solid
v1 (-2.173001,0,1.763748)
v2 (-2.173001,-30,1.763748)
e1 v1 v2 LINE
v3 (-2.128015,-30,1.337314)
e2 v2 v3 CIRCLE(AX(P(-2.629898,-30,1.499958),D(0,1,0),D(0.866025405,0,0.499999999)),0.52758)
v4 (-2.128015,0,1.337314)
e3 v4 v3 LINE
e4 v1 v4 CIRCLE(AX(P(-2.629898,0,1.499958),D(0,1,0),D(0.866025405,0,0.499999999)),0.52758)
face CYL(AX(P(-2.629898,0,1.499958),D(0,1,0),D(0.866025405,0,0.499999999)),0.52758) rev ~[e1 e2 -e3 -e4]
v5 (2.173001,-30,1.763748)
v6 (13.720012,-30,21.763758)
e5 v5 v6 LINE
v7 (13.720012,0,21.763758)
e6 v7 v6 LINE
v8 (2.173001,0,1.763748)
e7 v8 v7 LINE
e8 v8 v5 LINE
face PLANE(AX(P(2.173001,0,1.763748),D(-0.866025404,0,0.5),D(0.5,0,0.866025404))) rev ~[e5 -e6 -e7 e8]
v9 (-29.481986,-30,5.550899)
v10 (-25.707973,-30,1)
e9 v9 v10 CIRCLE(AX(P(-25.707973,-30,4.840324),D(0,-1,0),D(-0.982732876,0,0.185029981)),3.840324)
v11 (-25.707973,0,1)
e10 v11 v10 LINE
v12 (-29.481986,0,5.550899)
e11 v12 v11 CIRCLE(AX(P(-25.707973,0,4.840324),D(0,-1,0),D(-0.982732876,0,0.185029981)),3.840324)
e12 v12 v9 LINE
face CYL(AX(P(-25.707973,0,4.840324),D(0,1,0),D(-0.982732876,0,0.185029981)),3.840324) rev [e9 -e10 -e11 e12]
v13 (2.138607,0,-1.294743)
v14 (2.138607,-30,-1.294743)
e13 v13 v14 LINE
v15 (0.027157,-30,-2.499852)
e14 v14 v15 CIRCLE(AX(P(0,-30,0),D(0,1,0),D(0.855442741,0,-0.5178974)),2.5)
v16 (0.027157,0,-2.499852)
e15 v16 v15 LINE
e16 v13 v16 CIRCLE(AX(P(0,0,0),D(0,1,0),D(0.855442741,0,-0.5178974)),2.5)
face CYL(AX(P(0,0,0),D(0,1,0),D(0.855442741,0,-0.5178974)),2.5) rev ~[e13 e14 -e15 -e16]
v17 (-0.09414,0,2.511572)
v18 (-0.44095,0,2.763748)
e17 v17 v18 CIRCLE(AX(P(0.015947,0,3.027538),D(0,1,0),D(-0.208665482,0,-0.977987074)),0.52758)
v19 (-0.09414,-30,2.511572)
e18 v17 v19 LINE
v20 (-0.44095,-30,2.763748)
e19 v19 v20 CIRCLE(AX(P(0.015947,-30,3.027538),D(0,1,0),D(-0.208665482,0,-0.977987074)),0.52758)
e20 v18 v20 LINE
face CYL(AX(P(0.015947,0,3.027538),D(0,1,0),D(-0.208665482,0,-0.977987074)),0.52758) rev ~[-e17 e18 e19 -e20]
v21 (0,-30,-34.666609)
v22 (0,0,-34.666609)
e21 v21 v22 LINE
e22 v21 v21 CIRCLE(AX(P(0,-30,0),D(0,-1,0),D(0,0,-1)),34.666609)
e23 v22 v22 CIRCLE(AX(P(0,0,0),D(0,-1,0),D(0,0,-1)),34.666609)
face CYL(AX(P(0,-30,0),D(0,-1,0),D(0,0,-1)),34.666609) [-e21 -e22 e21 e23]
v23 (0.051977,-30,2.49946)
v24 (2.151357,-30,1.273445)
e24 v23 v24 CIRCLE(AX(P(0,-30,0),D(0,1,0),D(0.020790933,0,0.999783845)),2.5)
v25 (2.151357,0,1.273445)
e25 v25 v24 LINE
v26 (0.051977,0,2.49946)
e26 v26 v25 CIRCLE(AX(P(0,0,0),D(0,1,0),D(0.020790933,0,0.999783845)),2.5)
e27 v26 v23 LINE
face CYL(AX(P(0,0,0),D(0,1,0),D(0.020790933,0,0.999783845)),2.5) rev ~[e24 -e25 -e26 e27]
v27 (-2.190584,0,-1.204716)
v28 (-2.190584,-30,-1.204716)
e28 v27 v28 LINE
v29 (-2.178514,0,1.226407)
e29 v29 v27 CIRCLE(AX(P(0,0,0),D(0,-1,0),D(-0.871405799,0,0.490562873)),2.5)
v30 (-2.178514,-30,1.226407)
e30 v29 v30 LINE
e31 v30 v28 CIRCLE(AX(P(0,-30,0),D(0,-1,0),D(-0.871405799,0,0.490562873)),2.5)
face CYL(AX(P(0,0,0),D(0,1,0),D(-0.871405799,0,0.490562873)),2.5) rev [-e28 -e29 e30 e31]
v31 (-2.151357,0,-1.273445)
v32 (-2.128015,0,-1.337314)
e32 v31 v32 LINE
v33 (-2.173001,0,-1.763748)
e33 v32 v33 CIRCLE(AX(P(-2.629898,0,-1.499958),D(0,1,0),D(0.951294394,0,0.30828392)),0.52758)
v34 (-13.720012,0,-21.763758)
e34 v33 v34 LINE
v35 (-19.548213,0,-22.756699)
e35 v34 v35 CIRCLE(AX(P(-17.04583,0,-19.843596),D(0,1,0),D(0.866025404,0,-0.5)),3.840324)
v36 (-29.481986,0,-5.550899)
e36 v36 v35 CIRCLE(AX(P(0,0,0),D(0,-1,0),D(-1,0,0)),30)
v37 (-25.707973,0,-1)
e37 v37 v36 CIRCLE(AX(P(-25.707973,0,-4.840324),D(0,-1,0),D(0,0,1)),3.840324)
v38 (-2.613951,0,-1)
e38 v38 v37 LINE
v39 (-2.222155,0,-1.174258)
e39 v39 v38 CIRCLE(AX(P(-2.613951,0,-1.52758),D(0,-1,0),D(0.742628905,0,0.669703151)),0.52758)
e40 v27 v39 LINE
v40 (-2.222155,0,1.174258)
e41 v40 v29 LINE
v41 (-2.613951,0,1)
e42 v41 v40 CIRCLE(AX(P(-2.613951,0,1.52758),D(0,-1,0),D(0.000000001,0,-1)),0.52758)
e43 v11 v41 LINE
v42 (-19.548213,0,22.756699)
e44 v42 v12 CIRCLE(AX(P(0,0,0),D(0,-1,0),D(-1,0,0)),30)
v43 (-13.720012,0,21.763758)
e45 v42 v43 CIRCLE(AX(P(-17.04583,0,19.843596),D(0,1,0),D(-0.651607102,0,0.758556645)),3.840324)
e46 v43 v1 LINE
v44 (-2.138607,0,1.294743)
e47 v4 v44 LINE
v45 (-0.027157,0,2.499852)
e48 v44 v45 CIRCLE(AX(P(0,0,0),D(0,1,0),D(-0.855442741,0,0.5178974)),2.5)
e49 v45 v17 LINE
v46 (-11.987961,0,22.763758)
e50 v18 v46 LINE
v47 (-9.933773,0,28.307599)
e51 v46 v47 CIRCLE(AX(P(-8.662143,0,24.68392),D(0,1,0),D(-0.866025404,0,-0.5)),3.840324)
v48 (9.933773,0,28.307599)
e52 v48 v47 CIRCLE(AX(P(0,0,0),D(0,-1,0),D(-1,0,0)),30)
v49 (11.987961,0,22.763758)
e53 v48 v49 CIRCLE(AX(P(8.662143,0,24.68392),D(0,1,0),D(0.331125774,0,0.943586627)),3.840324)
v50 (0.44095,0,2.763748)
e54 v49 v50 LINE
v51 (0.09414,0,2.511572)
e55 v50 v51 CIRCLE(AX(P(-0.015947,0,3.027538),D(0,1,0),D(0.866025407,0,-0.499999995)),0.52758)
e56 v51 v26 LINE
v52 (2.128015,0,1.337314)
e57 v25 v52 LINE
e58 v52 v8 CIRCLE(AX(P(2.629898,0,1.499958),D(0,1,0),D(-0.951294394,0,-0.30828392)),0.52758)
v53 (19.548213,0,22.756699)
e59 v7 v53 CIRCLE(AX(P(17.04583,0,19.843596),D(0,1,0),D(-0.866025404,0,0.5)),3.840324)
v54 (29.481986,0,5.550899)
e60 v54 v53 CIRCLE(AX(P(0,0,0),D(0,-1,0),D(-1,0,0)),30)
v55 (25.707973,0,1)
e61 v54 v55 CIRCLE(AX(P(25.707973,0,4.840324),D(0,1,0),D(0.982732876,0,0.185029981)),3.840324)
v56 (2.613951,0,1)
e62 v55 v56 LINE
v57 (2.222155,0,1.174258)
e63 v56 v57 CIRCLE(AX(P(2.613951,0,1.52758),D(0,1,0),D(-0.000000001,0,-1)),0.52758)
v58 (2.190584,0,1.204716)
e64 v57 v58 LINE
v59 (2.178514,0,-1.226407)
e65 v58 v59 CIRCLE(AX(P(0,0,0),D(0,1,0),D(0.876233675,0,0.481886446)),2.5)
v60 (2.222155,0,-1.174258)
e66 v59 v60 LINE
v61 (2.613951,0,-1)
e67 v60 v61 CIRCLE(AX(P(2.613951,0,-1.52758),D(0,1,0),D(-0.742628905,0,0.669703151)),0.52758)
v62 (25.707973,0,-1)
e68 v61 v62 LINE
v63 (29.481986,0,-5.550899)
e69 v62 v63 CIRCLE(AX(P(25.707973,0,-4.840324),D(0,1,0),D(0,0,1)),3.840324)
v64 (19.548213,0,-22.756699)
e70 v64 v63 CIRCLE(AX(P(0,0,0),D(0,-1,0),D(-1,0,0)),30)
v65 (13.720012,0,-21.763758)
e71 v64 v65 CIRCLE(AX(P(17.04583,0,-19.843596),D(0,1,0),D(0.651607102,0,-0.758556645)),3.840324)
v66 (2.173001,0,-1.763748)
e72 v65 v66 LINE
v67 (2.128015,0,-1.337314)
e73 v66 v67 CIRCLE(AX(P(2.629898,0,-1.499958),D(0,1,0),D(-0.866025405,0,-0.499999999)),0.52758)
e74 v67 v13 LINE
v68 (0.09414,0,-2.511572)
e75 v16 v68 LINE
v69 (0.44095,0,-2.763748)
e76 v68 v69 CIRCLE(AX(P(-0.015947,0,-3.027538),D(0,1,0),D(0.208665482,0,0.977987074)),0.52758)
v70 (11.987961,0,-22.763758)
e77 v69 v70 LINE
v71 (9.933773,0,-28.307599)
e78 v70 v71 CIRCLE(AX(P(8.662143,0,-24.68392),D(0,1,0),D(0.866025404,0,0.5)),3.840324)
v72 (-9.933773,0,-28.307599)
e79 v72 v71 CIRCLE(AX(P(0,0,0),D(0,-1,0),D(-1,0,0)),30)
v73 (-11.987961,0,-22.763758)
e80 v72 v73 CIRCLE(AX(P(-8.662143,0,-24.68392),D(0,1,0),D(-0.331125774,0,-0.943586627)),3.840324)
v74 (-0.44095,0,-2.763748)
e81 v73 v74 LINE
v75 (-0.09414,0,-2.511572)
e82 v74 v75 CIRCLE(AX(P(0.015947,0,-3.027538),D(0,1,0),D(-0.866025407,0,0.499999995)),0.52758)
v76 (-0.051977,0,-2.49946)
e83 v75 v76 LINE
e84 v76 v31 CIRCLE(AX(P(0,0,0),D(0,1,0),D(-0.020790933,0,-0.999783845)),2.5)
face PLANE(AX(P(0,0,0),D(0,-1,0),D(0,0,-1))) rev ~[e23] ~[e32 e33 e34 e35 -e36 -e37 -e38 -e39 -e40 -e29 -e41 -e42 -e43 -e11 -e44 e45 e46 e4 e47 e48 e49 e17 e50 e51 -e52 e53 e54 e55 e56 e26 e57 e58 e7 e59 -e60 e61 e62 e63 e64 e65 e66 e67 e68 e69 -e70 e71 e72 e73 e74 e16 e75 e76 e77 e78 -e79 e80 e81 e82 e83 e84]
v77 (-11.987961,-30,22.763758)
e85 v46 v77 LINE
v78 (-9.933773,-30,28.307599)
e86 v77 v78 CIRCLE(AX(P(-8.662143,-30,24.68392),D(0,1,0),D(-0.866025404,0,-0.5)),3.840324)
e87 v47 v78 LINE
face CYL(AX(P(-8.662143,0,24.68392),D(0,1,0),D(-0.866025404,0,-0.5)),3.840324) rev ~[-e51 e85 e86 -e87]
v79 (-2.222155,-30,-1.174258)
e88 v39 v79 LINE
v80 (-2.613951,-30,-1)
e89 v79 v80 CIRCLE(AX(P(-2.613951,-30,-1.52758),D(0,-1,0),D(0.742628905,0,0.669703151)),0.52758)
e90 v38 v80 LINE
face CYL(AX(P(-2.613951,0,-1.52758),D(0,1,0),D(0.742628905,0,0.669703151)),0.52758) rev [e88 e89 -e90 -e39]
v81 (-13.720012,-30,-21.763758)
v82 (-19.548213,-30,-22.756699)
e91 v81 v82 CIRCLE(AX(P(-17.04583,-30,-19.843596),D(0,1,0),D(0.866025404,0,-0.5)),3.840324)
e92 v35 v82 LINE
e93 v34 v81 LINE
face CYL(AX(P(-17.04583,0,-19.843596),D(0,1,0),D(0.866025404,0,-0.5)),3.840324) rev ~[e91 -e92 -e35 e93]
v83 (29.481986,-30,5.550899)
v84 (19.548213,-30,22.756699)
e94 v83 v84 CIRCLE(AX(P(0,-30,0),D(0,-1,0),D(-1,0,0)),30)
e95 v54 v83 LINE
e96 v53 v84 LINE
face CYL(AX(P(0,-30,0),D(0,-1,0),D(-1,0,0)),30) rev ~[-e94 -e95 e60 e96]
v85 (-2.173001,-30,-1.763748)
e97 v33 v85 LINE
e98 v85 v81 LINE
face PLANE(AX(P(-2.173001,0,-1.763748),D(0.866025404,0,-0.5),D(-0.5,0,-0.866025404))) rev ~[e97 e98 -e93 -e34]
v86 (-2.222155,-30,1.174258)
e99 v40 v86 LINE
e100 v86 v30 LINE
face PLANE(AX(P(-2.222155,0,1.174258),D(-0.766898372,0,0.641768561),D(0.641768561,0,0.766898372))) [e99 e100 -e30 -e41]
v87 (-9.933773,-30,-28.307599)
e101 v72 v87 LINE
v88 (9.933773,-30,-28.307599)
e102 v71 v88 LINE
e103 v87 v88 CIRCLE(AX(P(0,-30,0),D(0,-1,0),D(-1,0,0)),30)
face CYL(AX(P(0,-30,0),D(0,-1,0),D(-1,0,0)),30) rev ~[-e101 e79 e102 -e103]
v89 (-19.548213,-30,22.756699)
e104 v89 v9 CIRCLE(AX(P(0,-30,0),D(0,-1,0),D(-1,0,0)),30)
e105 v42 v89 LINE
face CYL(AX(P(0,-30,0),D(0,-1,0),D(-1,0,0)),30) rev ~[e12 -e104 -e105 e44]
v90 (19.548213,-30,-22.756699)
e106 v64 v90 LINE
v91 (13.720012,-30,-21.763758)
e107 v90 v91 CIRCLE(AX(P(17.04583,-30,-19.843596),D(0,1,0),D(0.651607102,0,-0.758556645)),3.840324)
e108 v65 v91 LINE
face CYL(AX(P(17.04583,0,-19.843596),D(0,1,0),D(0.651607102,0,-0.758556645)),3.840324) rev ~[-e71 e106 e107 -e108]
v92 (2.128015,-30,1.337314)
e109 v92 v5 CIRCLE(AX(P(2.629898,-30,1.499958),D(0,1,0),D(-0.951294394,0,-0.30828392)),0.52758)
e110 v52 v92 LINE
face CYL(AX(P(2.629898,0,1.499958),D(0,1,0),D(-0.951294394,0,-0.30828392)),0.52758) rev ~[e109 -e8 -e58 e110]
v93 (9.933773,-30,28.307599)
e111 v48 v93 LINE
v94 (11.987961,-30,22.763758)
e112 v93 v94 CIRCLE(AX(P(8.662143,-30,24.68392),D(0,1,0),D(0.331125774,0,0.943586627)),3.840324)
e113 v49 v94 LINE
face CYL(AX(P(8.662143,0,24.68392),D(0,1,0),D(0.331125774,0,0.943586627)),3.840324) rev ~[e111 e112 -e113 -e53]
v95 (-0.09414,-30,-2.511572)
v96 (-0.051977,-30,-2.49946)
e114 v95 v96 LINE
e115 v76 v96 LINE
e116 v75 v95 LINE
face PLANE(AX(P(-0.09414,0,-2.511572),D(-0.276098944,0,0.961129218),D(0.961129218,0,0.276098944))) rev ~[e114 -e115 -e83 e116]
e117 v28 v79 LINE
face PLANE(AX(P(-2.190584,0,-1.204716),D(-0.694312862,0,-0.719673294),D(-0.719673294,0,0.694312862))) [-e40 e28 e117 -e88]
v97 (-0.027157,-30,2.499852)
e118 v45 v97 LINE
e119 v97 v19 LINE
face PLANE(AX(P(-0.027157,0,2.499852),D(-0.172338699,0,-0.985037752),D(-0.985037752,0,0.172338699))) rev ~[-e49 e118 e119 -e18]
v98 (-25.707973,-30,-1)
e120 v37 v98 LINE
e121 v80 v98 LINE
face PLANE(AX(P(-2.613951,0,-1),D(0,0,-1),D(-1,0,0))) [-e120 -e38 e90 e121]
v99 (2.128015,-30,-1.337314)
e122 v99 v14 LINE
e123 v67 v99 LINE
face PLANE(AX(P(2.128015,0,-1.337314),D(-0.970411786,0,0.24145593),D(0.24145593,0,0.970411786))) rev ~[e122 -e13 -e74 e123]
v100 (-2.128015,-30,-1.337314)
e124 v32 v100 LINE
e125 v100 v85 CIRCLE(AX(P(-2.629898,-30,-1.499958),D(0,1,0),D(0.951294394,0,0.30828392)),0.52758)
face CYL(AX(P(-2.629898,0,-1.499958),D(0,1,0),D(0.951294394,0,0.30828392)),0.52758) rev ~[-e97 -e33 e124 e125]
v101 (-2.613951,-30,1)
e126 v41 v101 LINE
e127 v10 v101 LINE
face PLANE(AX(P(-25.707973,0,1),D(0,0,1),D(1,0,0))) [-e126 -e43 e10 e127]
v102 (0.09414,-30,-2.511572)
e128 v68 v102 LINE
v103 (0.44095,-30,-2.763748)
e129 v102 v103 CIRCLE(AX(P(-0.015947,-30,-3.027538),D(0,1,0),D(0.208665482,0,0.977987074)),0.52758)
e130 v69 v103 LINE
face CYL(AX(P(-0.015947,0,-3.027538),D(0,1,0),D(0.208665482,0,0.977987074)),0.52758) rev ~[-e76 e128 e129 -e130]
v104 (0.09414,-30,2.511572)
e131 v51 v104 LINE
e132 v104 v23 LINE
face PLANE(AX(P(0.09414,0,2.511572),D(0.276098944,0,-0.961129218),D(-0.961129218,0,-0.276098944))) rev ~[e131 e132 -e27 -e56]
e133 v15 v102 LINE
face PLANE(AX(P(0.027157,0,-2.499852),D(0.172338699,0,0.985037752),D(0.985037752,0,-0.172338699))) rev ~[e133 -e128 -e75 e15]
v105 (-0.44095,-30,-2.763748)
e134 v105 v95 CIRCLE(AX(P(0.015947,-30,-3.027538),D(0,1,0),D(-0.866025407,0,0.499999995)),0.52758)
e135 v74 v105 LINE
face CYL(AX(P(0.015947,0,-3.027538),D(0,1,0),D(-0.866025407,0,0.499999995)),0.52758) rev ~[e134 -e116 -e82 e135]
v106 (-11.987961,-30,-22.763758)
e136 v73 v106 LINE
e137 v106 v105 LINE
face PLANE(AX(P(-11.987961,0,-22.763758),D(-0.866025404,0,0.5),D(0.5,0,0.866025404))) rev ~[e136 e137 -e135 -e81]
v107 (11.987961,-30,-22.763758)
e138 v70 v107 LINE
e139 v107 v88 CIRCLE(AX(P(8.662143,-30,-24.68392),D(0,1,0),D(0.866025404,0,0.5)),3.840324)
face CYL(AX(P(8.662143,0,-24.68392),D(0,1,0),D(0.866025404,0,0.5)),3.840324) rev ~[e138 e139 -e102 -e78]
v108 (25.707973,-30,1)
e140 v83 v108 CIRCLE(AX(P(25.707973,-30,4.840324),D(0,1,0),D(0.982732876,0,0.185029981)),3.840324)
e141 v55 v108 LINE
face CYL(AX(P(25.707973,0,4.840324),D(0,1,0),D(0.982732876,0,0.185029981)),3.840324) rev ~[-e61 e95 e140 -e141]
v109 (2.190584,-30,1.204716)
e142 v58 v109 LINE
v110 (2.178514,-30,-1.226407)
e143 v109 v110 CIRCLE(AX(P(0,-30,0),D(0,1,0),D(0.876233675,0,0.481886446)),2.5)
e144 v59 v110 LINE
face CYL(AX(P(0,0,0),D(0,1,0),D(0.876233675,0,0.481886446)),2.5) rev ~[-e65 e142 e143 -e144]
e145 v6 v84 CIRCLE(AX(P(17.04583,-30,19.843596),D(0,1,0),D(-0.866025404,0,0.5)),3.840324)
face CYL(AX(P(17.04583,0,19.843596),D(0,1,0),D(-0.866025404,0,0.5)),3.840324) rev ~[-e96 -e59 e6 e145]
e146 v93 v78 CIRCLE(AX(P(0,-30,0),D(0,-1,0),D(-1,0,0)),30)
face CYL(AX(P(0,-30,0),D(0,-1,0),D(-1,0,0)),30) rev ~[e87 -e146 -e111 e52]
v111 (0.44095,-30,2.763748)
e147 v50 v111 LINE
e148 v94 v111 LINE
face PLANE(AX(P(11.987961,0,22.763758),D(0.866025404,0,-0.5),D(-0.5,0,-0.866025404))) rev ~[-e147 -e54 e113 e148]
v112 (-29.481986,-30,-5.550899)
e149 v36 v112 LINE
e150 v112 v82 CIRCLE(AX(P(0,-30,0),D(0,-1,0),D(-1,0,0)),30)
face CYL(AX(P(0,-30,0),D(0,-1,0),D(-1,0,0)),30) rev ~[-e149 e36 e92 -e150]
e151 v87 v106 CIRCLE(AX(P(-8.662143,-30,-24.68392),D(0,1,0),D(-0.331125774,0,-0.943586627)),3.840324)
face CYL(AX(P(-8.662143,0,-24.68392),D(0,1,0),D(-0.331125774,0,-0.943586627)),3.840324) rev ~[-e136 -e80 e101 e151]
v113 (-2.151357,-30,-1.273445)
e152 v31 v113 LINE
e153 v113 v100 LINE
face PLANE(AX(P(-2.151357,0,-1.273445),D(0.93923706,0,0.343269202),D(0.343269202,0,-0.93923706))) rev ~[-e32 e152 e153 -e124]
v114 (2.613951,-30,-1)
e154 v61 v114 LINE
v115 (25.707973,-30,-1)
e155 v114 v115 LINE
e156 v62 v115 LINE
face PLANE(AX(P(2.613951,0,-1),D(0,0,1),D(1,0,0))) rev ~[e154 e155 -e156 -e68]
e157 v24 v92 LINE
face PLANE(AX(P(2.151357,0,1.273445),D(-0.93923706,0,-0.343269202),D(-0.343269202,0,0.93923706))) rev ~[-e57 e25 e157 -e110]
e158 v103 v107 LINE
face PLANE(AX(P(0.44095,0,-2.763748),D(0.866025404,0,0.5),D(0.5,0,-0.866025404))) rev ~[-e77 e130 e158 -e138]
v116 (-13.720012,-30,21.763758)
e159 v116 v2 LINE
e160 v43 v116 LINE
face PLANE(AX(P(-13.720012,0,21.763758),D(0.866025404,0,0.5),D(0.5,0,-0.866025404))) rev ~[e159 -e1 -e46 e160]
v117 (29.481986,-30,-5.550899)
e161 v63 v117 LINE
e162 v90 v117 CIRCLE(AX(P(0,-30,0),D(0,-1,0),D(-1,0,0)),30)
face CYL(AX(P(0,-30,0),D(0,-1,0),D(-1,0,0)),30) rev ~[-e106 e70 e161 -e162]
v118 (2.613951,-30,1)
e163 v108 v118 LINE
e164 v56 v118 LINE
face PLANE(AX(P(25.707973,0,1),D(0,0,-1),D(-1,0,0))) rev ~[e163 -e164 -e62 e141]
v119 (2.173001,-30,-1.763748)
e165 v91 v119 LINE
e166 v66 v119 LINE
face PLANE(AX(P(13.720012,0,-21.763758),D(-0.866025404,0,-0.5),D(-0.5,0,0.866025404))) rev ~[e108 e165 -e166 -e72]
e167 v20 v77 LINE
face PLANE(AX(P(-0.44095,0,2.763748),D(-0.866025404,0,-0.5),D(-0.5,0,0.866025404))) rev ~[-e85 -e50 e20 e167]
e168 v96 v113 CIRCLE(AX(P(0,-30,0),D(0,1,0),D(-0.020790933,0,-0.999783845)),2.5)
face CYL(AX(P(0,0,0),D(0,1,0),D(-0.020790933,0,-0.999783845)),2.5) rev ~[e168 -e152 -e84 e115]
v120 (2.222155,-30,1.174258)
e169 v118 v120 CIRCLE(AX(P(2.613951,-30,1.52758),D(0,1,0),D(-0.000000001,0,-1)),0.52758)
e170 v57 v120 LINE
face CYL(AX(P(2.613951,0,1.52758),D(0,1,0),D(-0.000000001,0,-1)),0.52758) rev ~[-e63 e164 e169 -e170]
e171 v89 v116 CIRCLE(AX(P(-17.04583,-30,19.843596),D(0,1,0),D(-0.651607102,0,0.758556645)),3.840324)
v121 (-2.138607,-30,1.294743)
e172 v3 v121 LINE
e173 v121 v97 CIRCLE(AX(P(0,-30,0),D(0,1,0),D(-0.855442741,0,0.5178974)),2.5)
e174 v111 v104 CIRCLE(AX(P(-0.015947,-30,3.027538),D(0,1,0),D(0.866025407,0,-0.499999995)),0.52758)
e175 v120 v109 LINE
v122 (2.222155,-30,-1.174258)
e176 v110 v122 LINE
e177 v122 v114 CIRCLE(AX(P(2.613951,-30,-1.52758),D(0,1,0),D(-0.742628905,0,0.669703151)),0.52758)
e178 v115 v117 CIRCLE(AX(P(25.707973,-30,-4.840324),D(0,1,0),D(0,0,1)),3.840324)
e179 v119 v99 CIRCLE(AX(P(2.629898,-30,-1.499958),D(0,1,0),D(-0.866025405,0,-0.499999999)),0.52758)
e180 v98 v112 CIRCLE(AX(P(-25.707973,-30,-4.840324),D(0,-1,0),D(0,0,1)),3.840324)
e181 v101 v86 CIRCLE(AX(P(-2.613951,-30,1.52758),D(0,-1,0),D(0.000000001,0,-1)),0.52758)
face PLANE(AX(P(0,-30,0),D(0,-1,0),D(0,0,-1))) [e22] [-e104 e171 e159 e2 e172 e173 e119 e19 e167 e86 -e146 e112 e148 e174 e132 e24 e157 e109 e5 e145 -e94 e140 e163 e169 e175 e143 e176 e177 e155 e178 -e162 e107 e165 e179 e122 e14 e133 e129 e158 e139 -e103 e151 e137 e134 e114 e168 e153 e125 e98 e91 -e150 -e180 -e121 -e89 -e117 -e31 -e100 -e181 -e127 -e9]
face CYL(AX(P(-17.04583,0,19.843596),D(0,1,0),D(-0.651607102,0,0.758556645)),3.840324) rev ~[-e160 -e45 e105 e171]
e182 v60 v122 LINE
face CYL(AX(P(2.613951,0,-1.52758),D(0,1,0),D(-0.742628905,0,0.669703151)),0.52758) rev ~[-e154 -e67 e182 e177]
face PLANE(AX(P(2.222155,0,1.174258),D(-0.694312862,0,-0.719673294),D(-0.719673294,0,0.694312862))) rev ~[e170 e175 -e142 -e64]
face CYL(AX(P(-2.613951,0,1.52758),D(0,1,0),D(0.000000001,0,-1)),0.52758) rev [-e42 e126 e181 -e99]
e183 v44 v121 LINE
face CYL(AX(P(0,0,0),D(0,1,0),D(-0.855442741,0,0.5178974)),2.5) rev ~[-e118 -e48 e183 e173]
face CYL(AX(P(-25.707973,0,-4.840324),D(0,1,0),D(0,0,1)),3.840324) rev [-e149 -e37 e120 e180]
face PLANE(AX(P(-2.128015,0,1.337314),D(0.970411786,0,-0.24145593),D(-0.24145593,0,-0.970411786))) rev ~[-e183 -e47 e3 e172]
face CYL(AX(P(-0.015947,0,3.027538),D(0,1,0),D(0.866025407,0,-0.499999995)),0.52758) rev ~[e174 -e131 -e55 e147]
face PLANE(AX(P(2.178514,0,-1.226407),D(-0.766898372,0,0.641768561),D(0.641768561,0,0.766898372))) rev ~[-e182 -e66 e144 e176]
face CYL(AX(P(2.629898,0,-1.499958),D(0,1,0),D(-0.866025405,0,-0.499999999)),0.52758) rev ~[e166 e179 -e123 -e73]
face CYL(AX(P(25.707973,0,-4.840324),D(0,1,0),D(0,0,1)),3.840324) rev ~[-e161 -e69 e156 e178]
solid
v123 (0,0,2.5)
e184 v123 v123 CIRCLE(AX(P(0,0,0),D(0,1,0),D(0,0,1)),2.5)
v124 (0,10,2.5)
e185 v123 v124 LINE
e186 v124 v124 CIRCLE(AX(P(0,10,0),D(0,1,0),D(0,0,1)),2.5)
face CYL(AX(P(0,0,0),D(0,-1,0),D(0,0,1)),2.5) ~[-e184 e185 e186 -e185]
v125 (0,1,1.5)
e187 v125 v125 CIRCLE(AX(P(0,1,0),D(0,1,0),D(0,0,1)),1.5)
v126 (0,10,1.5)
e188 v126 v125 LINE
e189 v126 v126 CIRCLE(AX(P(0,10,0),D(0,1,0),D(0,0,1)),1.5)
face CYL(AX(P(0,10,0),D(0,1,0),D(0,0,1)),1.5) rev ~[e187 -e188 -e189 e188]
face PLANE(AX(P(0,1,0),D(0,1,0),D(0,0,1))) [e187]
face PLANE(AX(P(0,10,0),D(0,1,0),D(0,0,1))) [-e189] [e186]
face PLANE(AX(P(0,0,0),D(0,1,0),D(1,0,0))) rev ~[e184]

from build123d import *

# Parameters (mm, degrees)
SKETCH1_R             = 2.5
SKETCH1_R_2           = 1.5
BOSS_EXTRUDE1_DEPTH   = 10
BOSS_EXTRUDE3_DEPTH   = 30
BOSS_EXTRUDE3_2_DEPTH = 30
BOSS_EXTRUDE3_3_DEPTH = 30
BOSS_EXTRUDE3_4_DEPTH = 30
BOSS_EXTRUDE3_5_DEPTH = 30
BOSS_EXTRUDE3_6_DEPTH = 30
SKETCH5_R             = 34.666608733
SKETCH5_R_2           = 30
BOSS_EXTRUDE4_DEPTH   = 30
BOSS_EXTRUDE5_START   = -10
SKETCH6_R             = 1.5
BOSS_EXTRUDE5_DEPTH   = 10
SKETCH7_R             = 1.5
CUT_EXTRUDE1_DEPTH    = 9


with BuildPart() as part:
    # Sketch1 → Boss-Extrude1 (new body)
    with BuildSketch(Plane(origin=(0, 0, 0), x_dir=(1, 0, 0), z_dir=(0, 1, 0))):
        with Locations(Location((0, 0, 0), (0, 0, 270))):
            Circle(SKETCH1_R)
        with Locations(Location((0, 0, 0), (0, 0, 270))):
            Circle(SKETCH1_R_2, mode=Mode.SUBTRACT)
    extrude(amount=BOSS_EXTRUDE1_DEPTH)

    # Sketch6 → Boss-Extrude5 (add)
    with BuildSketch(Plane(origin=(0, 10, 0), x_dir=(1, 0, 0), z_dir=(0, 1, 0)).offset(BOSS_EXTRUDE5_START)):
        Circle(SKETCH6_R)
    extrude(amount=BOSS_EXTRUDE5_DEPTH)

    # Sketch7 → Cut-Extrude1 (cut)
    with BuildSketch(Plane(origin=(0, 10, 0), x_dir=(1, 0, 0), z_dir=(0, 1, 0))):
        with Locations(Location((0, 0, 0), (0, 0, 270))):
            Circle(SKETCH7_R)
    extrude(amount=-CUT_EXTRUDE1_DEPTH, mode=Mode.SUBTRACT)


with BuildPart() as body_2:
    # Sketch2 → Boss-Extrude3 (new body)
    with BuildSketch(Plane(origin=(0, 0, 0), x_dir=(-1, 0, 0), z_dir=(0, -1, 0))):
        with BuildLine():
            Line((2.61395079, 1), (25.707973339, 1))
            ThreePointArc((25.707973339, 1), (28.664062792, 2.388870469), (29.481986287, 5.550899437))
            ThreePointArc((29.481986287, 5.550899437), (30, 0), (29.481986287, -5.550899437))
            ThreePointArc((29.481986287, -5.550899437), (28.664062792, -2.388870469), (25.707973339, -1))
            Line((25.707973339, -1), (2.61395079, -1))
            ThreePointArc((2.61395079, -1), (2.399550586, -1.045528996), (2.222154945, -1.174257873))
            Line((2.222154945, -1.174257873), (2.178514499, -1.226407182))
            ThreePointArc((2.178514499, -1.226407182), (2.499969191, -0.012411485), (2.190584188, 1.204716114))
            Line((2.190584188, 1.204716114), (2.222154945, 1.174257873))
            ThreePointArc((2.222154945, 1.174257873), (2.399550586, 1.045528996), (2.61395079, 1))
        make_face()
    extrude(amount=BOSS_EXTRUDE3_DEPTH)



with BuildPart() as body_3:
    # Sketch2 → Boss-Extrude3 2 (new body)
    with BuildSketch(Plane(origin=(0, 0, 0), x_dir=(-1, 0, 0), z_dir=(0, -1, 0))):
        with BuildLine():
            Line((0.440949991, -2.763747789), (11.987961266, -22.763757991))
            ThreePointArc((11.987961266, -22.763757991), (12.263208883, -26.018241788), (9.933773217, -28.307598797))
            ThreePointArc((9.933773217, -28.307598797), (15, -25.980762114), (19.54821307, -22.75669936))
            ThreePointArc((19.54821307, -22.75669936), (16.400853909, -23.629371319), (13.720012073, -21.763757991))
            Line((13.720012073, -21.763757991), (2.173000799, -1.763747789))
            ThreePointArc((2.173000799, -1.763747789), (2.105229964, -1.555307267), (2.128014621, -1.337313697))
            Line((2.128014621, -1.337313697), (2.138606853, -1.294743499))
            ThreePointArc((2.138606853, -1.294743499), (1.239235934, -2.17124257), (0.027157474, -2.49985249))
            Line((0.027157474, -2.49985249), (0.094140324, -2.511571571))
            ThreePointArc((0.094140324, -2.511571571), (0.294320622, -2.600836263), (0.440949991, -2.763747789))
        make_face()
    extrude(amount=BOSS_EXTRUDE3_2_DEPTH)


with BuildPart() as body_4:
    # Sketch2 → Boss-Extrude3 3 (new body)
    with BuildSketch(Plane(origin=(0, 0, 0), x_dir=(-1, 0, 0), z_dir=(0, -1, 0))):
        with BuildLine():
            Line((-2.173000799, -1.763747789), (-13.720012073, -21.763757991))
            ThreePointArc((-13.720012073, -21.763757991), (-16.400853909, -23.629371319), (-19.54821307, -22.75669936))
            ThreePointArc((-19.54821307, -22.75669936), (-15, -25.980762114), (-9.933773217, -28.307598797))
            ThreePointArc((-9.933773217, -28.307598797), (-12.263208883, -26.018241788), (-11.987961266, -22.763757991))
            Line((-11.987961266, -22.763757991), (-0.440949991, -2.763747789))
            ThreePointArc((-0.440949991, -2.763747789), (-0.294320622, -2.600836263), (-0.094140324, -2.511571571))
            Line((-0.094140324, -2.511571571), (-0.051977335, -2.499459613))
            ThreePointArc((-0.051977335, -2.499459613), (-1.260733257, -2.158831086), (-2.151357025, -1.273445308))
            Line((-2.151357025, -1.273445308), (-2.128014621, -1.337313697))
            ThreePointArc((-2.128014621, -1.337313697), (-2.105229964, -1.555307267), (-2.173000799, -1.763747789))
        make_face()
    extrude(amount=BOSS_EXTRUDE3_3_DEPTH)


with BuildPart() as body_5:
    # Sketch2 → Boss-Extrude3 4 (new body)
    with BuildSketch(Plane(origin=(0, 0, 0), x_dir=(-1, 0, 0), z_dir=(0, -1, 0))):
        with BuildLine():
            Line((-2.61395079, 1), (-25.707973339, 1))
            ThreePointArc((-25.707973339, 1), (-28.664062792, 2.388870469), (-29.481986287, 5.550899437))
            ThreePointArc((-29.481986287, 5.550899437), (-30, 0), (-29.481986287, -5.550899437))
            ThreePointArc((-29.481986287, -5.550899437), (-28.664062792, -2.388870469), (-25.707973339, -1))
            Line((-25.707973339, -1), (-2.61395079, -1))
            ThreePointArc((-2.61395079, -1), (-2.399550586, -1.045528996), (-2.222154945, -1.174257873))
            Line((-2.222154945, -1.174257873), (-2.190584188, -1.204716114))
            ThreePointArc((-2.190584188, -1.204716114), (-2.499969191, 0.012411485), (-2.178514499, 1.226407182))
            Line((-2.178514499, 1.226407182), (-2.222154945, 1.174257873))
            ThreePointArc((-2.222154945, 1.174257873), (-2.399550586, 1.045528996), (-2.61395079, 1))
        make_face()
    extrude(amount=BOSS_EXTRUDE3_4_DEPTH)


with BuildPart() as body_6:
    # Sketch2 → Boss-Extrude3 5 (new body)
    with BuildSketch(Plane(origin=(0, 0, 0), x_dir=(-1, 0, 0), z_dir=(0, -1, 0))):
        with BuildLine():
            Line((-0.440949991, 2.763747789), (-11.987961266, 22.763757991))
            ThreePointArc((-11.987961266, 22.763757991), (-12.263208883, 26.018241788), (-9.933773217, 28.307598797))
            ThreePointArc((-9.933773217, 28.307598797), (-15, 25.980762114), (-19.54821307, 22.75669936))
            ThreePointArc((-19.54821307, 22.75669936), (-16.400853909, 23.629371319), (-13.720012073, 21.763757991))
            Line((-13.720012073, 21.763757991), (-2.173000799, 1.763747789))
            ThreePointArc((-2.173000799, 1.763747789), (-2.105229964, 1.555307267), (-2.128014621, 1.337313697))
            Line((-2.128014621, 1.337313697), (-2.138606853, 1.294743499))
            ThreePointArc((-2.138606853, 1.294743499), (-1.239235934, 2.17124257), (-0.027157474, 2.49985249))
            Line((-0.027157474, 2.49985249), (-0.094140324, 2.511571571))
            ThreePointArc((-0.094140324, 2.511571571), (-0.294320622, 2.600836263), (-0.440949991, 2.763747789))
        make_face()
    extrude(amount=BOSS_EXTRUDE3_5_DEPTH)


with BuildPart() as body_7:
    # Sketch2 → Boss-Extrude3 6 (new body)
    with BuildSketch(Plane(origin=(0, 0, 0), x_dir=(-1, 0, 0), z_dir=(0, -1, 0))):
        with BuildLine():
            Line((2.173000799, 1.763747789), (13.720012073, 21.763757991))
            ThreePointArc((13.720012073, 21.763757991), (16.400853909, 23.629371319), (19.54821307, 22.75669936))
            ThreePointArc((19.54821307, 22.75669936), (15, 25.980762114), (9.933773217, 28.307598797))
            ThreePointArc((9.933773217, 28.307598797), (12.263208883, 26.018241788), (11.987961266, 22.763757991))
            Line((11.987961266, 22.763757991), (0.440949991, 2.763747789))
            ThreePointArc((0.440949991, 2.763747789), (0.294320622, 2.600836263), (0.094140324, 2.511571571))
            Line((0.094140324, 2.511571571), (0.051977335, 2.499459613))
            ThreePointArc((0.051977335, 2.499459613), (1.260733257, 2.158831086), (2.151357025, 1.273445308))
            Line((2.151357025, 1.273445308), (2.128014621, 1.337313697))
            ThreePointArc((2.128014621, 1.337313697), (2.105229964, 1.555307267), (2.173000799, 1.763747789))
        make_face()
    extrude(amount=BOSS_EXTRUDE3_6_DEPTH)


with BuildPart() as body_2_1:
    add(body_2.part)

    add(body_3.part)  # Boss-Extrude4 merges body 3

    add(body_4.part)  # Boss-Extrude4 merges body 4

    add(body_5.part)  # Boss-Extrude4 merges body 5

    add(body_6.part)  # Boss-Extrude4 merges body 6

    add(body_7.part)  # Boss-Extrude4 merges body 7
    # Sketch5 → Boss-Extrude4 (add)
    with BuildSketch(Plane(origin=(0, -30, 0), x_dir=(-1, 0, 0), z_dir=(0, -1, 0))):
        with Locations(Location((0, 0, 0), (0, 0, 90))):
            Circle(SKETCH5_R)
        Circle(SKETCH5_R_2, mode=Mode.SUBTRACT)
    extrude(amount=-BOSS_EXTRUDE4_DEPTH)


solid = Compound([part.part, body_2_1.part])
